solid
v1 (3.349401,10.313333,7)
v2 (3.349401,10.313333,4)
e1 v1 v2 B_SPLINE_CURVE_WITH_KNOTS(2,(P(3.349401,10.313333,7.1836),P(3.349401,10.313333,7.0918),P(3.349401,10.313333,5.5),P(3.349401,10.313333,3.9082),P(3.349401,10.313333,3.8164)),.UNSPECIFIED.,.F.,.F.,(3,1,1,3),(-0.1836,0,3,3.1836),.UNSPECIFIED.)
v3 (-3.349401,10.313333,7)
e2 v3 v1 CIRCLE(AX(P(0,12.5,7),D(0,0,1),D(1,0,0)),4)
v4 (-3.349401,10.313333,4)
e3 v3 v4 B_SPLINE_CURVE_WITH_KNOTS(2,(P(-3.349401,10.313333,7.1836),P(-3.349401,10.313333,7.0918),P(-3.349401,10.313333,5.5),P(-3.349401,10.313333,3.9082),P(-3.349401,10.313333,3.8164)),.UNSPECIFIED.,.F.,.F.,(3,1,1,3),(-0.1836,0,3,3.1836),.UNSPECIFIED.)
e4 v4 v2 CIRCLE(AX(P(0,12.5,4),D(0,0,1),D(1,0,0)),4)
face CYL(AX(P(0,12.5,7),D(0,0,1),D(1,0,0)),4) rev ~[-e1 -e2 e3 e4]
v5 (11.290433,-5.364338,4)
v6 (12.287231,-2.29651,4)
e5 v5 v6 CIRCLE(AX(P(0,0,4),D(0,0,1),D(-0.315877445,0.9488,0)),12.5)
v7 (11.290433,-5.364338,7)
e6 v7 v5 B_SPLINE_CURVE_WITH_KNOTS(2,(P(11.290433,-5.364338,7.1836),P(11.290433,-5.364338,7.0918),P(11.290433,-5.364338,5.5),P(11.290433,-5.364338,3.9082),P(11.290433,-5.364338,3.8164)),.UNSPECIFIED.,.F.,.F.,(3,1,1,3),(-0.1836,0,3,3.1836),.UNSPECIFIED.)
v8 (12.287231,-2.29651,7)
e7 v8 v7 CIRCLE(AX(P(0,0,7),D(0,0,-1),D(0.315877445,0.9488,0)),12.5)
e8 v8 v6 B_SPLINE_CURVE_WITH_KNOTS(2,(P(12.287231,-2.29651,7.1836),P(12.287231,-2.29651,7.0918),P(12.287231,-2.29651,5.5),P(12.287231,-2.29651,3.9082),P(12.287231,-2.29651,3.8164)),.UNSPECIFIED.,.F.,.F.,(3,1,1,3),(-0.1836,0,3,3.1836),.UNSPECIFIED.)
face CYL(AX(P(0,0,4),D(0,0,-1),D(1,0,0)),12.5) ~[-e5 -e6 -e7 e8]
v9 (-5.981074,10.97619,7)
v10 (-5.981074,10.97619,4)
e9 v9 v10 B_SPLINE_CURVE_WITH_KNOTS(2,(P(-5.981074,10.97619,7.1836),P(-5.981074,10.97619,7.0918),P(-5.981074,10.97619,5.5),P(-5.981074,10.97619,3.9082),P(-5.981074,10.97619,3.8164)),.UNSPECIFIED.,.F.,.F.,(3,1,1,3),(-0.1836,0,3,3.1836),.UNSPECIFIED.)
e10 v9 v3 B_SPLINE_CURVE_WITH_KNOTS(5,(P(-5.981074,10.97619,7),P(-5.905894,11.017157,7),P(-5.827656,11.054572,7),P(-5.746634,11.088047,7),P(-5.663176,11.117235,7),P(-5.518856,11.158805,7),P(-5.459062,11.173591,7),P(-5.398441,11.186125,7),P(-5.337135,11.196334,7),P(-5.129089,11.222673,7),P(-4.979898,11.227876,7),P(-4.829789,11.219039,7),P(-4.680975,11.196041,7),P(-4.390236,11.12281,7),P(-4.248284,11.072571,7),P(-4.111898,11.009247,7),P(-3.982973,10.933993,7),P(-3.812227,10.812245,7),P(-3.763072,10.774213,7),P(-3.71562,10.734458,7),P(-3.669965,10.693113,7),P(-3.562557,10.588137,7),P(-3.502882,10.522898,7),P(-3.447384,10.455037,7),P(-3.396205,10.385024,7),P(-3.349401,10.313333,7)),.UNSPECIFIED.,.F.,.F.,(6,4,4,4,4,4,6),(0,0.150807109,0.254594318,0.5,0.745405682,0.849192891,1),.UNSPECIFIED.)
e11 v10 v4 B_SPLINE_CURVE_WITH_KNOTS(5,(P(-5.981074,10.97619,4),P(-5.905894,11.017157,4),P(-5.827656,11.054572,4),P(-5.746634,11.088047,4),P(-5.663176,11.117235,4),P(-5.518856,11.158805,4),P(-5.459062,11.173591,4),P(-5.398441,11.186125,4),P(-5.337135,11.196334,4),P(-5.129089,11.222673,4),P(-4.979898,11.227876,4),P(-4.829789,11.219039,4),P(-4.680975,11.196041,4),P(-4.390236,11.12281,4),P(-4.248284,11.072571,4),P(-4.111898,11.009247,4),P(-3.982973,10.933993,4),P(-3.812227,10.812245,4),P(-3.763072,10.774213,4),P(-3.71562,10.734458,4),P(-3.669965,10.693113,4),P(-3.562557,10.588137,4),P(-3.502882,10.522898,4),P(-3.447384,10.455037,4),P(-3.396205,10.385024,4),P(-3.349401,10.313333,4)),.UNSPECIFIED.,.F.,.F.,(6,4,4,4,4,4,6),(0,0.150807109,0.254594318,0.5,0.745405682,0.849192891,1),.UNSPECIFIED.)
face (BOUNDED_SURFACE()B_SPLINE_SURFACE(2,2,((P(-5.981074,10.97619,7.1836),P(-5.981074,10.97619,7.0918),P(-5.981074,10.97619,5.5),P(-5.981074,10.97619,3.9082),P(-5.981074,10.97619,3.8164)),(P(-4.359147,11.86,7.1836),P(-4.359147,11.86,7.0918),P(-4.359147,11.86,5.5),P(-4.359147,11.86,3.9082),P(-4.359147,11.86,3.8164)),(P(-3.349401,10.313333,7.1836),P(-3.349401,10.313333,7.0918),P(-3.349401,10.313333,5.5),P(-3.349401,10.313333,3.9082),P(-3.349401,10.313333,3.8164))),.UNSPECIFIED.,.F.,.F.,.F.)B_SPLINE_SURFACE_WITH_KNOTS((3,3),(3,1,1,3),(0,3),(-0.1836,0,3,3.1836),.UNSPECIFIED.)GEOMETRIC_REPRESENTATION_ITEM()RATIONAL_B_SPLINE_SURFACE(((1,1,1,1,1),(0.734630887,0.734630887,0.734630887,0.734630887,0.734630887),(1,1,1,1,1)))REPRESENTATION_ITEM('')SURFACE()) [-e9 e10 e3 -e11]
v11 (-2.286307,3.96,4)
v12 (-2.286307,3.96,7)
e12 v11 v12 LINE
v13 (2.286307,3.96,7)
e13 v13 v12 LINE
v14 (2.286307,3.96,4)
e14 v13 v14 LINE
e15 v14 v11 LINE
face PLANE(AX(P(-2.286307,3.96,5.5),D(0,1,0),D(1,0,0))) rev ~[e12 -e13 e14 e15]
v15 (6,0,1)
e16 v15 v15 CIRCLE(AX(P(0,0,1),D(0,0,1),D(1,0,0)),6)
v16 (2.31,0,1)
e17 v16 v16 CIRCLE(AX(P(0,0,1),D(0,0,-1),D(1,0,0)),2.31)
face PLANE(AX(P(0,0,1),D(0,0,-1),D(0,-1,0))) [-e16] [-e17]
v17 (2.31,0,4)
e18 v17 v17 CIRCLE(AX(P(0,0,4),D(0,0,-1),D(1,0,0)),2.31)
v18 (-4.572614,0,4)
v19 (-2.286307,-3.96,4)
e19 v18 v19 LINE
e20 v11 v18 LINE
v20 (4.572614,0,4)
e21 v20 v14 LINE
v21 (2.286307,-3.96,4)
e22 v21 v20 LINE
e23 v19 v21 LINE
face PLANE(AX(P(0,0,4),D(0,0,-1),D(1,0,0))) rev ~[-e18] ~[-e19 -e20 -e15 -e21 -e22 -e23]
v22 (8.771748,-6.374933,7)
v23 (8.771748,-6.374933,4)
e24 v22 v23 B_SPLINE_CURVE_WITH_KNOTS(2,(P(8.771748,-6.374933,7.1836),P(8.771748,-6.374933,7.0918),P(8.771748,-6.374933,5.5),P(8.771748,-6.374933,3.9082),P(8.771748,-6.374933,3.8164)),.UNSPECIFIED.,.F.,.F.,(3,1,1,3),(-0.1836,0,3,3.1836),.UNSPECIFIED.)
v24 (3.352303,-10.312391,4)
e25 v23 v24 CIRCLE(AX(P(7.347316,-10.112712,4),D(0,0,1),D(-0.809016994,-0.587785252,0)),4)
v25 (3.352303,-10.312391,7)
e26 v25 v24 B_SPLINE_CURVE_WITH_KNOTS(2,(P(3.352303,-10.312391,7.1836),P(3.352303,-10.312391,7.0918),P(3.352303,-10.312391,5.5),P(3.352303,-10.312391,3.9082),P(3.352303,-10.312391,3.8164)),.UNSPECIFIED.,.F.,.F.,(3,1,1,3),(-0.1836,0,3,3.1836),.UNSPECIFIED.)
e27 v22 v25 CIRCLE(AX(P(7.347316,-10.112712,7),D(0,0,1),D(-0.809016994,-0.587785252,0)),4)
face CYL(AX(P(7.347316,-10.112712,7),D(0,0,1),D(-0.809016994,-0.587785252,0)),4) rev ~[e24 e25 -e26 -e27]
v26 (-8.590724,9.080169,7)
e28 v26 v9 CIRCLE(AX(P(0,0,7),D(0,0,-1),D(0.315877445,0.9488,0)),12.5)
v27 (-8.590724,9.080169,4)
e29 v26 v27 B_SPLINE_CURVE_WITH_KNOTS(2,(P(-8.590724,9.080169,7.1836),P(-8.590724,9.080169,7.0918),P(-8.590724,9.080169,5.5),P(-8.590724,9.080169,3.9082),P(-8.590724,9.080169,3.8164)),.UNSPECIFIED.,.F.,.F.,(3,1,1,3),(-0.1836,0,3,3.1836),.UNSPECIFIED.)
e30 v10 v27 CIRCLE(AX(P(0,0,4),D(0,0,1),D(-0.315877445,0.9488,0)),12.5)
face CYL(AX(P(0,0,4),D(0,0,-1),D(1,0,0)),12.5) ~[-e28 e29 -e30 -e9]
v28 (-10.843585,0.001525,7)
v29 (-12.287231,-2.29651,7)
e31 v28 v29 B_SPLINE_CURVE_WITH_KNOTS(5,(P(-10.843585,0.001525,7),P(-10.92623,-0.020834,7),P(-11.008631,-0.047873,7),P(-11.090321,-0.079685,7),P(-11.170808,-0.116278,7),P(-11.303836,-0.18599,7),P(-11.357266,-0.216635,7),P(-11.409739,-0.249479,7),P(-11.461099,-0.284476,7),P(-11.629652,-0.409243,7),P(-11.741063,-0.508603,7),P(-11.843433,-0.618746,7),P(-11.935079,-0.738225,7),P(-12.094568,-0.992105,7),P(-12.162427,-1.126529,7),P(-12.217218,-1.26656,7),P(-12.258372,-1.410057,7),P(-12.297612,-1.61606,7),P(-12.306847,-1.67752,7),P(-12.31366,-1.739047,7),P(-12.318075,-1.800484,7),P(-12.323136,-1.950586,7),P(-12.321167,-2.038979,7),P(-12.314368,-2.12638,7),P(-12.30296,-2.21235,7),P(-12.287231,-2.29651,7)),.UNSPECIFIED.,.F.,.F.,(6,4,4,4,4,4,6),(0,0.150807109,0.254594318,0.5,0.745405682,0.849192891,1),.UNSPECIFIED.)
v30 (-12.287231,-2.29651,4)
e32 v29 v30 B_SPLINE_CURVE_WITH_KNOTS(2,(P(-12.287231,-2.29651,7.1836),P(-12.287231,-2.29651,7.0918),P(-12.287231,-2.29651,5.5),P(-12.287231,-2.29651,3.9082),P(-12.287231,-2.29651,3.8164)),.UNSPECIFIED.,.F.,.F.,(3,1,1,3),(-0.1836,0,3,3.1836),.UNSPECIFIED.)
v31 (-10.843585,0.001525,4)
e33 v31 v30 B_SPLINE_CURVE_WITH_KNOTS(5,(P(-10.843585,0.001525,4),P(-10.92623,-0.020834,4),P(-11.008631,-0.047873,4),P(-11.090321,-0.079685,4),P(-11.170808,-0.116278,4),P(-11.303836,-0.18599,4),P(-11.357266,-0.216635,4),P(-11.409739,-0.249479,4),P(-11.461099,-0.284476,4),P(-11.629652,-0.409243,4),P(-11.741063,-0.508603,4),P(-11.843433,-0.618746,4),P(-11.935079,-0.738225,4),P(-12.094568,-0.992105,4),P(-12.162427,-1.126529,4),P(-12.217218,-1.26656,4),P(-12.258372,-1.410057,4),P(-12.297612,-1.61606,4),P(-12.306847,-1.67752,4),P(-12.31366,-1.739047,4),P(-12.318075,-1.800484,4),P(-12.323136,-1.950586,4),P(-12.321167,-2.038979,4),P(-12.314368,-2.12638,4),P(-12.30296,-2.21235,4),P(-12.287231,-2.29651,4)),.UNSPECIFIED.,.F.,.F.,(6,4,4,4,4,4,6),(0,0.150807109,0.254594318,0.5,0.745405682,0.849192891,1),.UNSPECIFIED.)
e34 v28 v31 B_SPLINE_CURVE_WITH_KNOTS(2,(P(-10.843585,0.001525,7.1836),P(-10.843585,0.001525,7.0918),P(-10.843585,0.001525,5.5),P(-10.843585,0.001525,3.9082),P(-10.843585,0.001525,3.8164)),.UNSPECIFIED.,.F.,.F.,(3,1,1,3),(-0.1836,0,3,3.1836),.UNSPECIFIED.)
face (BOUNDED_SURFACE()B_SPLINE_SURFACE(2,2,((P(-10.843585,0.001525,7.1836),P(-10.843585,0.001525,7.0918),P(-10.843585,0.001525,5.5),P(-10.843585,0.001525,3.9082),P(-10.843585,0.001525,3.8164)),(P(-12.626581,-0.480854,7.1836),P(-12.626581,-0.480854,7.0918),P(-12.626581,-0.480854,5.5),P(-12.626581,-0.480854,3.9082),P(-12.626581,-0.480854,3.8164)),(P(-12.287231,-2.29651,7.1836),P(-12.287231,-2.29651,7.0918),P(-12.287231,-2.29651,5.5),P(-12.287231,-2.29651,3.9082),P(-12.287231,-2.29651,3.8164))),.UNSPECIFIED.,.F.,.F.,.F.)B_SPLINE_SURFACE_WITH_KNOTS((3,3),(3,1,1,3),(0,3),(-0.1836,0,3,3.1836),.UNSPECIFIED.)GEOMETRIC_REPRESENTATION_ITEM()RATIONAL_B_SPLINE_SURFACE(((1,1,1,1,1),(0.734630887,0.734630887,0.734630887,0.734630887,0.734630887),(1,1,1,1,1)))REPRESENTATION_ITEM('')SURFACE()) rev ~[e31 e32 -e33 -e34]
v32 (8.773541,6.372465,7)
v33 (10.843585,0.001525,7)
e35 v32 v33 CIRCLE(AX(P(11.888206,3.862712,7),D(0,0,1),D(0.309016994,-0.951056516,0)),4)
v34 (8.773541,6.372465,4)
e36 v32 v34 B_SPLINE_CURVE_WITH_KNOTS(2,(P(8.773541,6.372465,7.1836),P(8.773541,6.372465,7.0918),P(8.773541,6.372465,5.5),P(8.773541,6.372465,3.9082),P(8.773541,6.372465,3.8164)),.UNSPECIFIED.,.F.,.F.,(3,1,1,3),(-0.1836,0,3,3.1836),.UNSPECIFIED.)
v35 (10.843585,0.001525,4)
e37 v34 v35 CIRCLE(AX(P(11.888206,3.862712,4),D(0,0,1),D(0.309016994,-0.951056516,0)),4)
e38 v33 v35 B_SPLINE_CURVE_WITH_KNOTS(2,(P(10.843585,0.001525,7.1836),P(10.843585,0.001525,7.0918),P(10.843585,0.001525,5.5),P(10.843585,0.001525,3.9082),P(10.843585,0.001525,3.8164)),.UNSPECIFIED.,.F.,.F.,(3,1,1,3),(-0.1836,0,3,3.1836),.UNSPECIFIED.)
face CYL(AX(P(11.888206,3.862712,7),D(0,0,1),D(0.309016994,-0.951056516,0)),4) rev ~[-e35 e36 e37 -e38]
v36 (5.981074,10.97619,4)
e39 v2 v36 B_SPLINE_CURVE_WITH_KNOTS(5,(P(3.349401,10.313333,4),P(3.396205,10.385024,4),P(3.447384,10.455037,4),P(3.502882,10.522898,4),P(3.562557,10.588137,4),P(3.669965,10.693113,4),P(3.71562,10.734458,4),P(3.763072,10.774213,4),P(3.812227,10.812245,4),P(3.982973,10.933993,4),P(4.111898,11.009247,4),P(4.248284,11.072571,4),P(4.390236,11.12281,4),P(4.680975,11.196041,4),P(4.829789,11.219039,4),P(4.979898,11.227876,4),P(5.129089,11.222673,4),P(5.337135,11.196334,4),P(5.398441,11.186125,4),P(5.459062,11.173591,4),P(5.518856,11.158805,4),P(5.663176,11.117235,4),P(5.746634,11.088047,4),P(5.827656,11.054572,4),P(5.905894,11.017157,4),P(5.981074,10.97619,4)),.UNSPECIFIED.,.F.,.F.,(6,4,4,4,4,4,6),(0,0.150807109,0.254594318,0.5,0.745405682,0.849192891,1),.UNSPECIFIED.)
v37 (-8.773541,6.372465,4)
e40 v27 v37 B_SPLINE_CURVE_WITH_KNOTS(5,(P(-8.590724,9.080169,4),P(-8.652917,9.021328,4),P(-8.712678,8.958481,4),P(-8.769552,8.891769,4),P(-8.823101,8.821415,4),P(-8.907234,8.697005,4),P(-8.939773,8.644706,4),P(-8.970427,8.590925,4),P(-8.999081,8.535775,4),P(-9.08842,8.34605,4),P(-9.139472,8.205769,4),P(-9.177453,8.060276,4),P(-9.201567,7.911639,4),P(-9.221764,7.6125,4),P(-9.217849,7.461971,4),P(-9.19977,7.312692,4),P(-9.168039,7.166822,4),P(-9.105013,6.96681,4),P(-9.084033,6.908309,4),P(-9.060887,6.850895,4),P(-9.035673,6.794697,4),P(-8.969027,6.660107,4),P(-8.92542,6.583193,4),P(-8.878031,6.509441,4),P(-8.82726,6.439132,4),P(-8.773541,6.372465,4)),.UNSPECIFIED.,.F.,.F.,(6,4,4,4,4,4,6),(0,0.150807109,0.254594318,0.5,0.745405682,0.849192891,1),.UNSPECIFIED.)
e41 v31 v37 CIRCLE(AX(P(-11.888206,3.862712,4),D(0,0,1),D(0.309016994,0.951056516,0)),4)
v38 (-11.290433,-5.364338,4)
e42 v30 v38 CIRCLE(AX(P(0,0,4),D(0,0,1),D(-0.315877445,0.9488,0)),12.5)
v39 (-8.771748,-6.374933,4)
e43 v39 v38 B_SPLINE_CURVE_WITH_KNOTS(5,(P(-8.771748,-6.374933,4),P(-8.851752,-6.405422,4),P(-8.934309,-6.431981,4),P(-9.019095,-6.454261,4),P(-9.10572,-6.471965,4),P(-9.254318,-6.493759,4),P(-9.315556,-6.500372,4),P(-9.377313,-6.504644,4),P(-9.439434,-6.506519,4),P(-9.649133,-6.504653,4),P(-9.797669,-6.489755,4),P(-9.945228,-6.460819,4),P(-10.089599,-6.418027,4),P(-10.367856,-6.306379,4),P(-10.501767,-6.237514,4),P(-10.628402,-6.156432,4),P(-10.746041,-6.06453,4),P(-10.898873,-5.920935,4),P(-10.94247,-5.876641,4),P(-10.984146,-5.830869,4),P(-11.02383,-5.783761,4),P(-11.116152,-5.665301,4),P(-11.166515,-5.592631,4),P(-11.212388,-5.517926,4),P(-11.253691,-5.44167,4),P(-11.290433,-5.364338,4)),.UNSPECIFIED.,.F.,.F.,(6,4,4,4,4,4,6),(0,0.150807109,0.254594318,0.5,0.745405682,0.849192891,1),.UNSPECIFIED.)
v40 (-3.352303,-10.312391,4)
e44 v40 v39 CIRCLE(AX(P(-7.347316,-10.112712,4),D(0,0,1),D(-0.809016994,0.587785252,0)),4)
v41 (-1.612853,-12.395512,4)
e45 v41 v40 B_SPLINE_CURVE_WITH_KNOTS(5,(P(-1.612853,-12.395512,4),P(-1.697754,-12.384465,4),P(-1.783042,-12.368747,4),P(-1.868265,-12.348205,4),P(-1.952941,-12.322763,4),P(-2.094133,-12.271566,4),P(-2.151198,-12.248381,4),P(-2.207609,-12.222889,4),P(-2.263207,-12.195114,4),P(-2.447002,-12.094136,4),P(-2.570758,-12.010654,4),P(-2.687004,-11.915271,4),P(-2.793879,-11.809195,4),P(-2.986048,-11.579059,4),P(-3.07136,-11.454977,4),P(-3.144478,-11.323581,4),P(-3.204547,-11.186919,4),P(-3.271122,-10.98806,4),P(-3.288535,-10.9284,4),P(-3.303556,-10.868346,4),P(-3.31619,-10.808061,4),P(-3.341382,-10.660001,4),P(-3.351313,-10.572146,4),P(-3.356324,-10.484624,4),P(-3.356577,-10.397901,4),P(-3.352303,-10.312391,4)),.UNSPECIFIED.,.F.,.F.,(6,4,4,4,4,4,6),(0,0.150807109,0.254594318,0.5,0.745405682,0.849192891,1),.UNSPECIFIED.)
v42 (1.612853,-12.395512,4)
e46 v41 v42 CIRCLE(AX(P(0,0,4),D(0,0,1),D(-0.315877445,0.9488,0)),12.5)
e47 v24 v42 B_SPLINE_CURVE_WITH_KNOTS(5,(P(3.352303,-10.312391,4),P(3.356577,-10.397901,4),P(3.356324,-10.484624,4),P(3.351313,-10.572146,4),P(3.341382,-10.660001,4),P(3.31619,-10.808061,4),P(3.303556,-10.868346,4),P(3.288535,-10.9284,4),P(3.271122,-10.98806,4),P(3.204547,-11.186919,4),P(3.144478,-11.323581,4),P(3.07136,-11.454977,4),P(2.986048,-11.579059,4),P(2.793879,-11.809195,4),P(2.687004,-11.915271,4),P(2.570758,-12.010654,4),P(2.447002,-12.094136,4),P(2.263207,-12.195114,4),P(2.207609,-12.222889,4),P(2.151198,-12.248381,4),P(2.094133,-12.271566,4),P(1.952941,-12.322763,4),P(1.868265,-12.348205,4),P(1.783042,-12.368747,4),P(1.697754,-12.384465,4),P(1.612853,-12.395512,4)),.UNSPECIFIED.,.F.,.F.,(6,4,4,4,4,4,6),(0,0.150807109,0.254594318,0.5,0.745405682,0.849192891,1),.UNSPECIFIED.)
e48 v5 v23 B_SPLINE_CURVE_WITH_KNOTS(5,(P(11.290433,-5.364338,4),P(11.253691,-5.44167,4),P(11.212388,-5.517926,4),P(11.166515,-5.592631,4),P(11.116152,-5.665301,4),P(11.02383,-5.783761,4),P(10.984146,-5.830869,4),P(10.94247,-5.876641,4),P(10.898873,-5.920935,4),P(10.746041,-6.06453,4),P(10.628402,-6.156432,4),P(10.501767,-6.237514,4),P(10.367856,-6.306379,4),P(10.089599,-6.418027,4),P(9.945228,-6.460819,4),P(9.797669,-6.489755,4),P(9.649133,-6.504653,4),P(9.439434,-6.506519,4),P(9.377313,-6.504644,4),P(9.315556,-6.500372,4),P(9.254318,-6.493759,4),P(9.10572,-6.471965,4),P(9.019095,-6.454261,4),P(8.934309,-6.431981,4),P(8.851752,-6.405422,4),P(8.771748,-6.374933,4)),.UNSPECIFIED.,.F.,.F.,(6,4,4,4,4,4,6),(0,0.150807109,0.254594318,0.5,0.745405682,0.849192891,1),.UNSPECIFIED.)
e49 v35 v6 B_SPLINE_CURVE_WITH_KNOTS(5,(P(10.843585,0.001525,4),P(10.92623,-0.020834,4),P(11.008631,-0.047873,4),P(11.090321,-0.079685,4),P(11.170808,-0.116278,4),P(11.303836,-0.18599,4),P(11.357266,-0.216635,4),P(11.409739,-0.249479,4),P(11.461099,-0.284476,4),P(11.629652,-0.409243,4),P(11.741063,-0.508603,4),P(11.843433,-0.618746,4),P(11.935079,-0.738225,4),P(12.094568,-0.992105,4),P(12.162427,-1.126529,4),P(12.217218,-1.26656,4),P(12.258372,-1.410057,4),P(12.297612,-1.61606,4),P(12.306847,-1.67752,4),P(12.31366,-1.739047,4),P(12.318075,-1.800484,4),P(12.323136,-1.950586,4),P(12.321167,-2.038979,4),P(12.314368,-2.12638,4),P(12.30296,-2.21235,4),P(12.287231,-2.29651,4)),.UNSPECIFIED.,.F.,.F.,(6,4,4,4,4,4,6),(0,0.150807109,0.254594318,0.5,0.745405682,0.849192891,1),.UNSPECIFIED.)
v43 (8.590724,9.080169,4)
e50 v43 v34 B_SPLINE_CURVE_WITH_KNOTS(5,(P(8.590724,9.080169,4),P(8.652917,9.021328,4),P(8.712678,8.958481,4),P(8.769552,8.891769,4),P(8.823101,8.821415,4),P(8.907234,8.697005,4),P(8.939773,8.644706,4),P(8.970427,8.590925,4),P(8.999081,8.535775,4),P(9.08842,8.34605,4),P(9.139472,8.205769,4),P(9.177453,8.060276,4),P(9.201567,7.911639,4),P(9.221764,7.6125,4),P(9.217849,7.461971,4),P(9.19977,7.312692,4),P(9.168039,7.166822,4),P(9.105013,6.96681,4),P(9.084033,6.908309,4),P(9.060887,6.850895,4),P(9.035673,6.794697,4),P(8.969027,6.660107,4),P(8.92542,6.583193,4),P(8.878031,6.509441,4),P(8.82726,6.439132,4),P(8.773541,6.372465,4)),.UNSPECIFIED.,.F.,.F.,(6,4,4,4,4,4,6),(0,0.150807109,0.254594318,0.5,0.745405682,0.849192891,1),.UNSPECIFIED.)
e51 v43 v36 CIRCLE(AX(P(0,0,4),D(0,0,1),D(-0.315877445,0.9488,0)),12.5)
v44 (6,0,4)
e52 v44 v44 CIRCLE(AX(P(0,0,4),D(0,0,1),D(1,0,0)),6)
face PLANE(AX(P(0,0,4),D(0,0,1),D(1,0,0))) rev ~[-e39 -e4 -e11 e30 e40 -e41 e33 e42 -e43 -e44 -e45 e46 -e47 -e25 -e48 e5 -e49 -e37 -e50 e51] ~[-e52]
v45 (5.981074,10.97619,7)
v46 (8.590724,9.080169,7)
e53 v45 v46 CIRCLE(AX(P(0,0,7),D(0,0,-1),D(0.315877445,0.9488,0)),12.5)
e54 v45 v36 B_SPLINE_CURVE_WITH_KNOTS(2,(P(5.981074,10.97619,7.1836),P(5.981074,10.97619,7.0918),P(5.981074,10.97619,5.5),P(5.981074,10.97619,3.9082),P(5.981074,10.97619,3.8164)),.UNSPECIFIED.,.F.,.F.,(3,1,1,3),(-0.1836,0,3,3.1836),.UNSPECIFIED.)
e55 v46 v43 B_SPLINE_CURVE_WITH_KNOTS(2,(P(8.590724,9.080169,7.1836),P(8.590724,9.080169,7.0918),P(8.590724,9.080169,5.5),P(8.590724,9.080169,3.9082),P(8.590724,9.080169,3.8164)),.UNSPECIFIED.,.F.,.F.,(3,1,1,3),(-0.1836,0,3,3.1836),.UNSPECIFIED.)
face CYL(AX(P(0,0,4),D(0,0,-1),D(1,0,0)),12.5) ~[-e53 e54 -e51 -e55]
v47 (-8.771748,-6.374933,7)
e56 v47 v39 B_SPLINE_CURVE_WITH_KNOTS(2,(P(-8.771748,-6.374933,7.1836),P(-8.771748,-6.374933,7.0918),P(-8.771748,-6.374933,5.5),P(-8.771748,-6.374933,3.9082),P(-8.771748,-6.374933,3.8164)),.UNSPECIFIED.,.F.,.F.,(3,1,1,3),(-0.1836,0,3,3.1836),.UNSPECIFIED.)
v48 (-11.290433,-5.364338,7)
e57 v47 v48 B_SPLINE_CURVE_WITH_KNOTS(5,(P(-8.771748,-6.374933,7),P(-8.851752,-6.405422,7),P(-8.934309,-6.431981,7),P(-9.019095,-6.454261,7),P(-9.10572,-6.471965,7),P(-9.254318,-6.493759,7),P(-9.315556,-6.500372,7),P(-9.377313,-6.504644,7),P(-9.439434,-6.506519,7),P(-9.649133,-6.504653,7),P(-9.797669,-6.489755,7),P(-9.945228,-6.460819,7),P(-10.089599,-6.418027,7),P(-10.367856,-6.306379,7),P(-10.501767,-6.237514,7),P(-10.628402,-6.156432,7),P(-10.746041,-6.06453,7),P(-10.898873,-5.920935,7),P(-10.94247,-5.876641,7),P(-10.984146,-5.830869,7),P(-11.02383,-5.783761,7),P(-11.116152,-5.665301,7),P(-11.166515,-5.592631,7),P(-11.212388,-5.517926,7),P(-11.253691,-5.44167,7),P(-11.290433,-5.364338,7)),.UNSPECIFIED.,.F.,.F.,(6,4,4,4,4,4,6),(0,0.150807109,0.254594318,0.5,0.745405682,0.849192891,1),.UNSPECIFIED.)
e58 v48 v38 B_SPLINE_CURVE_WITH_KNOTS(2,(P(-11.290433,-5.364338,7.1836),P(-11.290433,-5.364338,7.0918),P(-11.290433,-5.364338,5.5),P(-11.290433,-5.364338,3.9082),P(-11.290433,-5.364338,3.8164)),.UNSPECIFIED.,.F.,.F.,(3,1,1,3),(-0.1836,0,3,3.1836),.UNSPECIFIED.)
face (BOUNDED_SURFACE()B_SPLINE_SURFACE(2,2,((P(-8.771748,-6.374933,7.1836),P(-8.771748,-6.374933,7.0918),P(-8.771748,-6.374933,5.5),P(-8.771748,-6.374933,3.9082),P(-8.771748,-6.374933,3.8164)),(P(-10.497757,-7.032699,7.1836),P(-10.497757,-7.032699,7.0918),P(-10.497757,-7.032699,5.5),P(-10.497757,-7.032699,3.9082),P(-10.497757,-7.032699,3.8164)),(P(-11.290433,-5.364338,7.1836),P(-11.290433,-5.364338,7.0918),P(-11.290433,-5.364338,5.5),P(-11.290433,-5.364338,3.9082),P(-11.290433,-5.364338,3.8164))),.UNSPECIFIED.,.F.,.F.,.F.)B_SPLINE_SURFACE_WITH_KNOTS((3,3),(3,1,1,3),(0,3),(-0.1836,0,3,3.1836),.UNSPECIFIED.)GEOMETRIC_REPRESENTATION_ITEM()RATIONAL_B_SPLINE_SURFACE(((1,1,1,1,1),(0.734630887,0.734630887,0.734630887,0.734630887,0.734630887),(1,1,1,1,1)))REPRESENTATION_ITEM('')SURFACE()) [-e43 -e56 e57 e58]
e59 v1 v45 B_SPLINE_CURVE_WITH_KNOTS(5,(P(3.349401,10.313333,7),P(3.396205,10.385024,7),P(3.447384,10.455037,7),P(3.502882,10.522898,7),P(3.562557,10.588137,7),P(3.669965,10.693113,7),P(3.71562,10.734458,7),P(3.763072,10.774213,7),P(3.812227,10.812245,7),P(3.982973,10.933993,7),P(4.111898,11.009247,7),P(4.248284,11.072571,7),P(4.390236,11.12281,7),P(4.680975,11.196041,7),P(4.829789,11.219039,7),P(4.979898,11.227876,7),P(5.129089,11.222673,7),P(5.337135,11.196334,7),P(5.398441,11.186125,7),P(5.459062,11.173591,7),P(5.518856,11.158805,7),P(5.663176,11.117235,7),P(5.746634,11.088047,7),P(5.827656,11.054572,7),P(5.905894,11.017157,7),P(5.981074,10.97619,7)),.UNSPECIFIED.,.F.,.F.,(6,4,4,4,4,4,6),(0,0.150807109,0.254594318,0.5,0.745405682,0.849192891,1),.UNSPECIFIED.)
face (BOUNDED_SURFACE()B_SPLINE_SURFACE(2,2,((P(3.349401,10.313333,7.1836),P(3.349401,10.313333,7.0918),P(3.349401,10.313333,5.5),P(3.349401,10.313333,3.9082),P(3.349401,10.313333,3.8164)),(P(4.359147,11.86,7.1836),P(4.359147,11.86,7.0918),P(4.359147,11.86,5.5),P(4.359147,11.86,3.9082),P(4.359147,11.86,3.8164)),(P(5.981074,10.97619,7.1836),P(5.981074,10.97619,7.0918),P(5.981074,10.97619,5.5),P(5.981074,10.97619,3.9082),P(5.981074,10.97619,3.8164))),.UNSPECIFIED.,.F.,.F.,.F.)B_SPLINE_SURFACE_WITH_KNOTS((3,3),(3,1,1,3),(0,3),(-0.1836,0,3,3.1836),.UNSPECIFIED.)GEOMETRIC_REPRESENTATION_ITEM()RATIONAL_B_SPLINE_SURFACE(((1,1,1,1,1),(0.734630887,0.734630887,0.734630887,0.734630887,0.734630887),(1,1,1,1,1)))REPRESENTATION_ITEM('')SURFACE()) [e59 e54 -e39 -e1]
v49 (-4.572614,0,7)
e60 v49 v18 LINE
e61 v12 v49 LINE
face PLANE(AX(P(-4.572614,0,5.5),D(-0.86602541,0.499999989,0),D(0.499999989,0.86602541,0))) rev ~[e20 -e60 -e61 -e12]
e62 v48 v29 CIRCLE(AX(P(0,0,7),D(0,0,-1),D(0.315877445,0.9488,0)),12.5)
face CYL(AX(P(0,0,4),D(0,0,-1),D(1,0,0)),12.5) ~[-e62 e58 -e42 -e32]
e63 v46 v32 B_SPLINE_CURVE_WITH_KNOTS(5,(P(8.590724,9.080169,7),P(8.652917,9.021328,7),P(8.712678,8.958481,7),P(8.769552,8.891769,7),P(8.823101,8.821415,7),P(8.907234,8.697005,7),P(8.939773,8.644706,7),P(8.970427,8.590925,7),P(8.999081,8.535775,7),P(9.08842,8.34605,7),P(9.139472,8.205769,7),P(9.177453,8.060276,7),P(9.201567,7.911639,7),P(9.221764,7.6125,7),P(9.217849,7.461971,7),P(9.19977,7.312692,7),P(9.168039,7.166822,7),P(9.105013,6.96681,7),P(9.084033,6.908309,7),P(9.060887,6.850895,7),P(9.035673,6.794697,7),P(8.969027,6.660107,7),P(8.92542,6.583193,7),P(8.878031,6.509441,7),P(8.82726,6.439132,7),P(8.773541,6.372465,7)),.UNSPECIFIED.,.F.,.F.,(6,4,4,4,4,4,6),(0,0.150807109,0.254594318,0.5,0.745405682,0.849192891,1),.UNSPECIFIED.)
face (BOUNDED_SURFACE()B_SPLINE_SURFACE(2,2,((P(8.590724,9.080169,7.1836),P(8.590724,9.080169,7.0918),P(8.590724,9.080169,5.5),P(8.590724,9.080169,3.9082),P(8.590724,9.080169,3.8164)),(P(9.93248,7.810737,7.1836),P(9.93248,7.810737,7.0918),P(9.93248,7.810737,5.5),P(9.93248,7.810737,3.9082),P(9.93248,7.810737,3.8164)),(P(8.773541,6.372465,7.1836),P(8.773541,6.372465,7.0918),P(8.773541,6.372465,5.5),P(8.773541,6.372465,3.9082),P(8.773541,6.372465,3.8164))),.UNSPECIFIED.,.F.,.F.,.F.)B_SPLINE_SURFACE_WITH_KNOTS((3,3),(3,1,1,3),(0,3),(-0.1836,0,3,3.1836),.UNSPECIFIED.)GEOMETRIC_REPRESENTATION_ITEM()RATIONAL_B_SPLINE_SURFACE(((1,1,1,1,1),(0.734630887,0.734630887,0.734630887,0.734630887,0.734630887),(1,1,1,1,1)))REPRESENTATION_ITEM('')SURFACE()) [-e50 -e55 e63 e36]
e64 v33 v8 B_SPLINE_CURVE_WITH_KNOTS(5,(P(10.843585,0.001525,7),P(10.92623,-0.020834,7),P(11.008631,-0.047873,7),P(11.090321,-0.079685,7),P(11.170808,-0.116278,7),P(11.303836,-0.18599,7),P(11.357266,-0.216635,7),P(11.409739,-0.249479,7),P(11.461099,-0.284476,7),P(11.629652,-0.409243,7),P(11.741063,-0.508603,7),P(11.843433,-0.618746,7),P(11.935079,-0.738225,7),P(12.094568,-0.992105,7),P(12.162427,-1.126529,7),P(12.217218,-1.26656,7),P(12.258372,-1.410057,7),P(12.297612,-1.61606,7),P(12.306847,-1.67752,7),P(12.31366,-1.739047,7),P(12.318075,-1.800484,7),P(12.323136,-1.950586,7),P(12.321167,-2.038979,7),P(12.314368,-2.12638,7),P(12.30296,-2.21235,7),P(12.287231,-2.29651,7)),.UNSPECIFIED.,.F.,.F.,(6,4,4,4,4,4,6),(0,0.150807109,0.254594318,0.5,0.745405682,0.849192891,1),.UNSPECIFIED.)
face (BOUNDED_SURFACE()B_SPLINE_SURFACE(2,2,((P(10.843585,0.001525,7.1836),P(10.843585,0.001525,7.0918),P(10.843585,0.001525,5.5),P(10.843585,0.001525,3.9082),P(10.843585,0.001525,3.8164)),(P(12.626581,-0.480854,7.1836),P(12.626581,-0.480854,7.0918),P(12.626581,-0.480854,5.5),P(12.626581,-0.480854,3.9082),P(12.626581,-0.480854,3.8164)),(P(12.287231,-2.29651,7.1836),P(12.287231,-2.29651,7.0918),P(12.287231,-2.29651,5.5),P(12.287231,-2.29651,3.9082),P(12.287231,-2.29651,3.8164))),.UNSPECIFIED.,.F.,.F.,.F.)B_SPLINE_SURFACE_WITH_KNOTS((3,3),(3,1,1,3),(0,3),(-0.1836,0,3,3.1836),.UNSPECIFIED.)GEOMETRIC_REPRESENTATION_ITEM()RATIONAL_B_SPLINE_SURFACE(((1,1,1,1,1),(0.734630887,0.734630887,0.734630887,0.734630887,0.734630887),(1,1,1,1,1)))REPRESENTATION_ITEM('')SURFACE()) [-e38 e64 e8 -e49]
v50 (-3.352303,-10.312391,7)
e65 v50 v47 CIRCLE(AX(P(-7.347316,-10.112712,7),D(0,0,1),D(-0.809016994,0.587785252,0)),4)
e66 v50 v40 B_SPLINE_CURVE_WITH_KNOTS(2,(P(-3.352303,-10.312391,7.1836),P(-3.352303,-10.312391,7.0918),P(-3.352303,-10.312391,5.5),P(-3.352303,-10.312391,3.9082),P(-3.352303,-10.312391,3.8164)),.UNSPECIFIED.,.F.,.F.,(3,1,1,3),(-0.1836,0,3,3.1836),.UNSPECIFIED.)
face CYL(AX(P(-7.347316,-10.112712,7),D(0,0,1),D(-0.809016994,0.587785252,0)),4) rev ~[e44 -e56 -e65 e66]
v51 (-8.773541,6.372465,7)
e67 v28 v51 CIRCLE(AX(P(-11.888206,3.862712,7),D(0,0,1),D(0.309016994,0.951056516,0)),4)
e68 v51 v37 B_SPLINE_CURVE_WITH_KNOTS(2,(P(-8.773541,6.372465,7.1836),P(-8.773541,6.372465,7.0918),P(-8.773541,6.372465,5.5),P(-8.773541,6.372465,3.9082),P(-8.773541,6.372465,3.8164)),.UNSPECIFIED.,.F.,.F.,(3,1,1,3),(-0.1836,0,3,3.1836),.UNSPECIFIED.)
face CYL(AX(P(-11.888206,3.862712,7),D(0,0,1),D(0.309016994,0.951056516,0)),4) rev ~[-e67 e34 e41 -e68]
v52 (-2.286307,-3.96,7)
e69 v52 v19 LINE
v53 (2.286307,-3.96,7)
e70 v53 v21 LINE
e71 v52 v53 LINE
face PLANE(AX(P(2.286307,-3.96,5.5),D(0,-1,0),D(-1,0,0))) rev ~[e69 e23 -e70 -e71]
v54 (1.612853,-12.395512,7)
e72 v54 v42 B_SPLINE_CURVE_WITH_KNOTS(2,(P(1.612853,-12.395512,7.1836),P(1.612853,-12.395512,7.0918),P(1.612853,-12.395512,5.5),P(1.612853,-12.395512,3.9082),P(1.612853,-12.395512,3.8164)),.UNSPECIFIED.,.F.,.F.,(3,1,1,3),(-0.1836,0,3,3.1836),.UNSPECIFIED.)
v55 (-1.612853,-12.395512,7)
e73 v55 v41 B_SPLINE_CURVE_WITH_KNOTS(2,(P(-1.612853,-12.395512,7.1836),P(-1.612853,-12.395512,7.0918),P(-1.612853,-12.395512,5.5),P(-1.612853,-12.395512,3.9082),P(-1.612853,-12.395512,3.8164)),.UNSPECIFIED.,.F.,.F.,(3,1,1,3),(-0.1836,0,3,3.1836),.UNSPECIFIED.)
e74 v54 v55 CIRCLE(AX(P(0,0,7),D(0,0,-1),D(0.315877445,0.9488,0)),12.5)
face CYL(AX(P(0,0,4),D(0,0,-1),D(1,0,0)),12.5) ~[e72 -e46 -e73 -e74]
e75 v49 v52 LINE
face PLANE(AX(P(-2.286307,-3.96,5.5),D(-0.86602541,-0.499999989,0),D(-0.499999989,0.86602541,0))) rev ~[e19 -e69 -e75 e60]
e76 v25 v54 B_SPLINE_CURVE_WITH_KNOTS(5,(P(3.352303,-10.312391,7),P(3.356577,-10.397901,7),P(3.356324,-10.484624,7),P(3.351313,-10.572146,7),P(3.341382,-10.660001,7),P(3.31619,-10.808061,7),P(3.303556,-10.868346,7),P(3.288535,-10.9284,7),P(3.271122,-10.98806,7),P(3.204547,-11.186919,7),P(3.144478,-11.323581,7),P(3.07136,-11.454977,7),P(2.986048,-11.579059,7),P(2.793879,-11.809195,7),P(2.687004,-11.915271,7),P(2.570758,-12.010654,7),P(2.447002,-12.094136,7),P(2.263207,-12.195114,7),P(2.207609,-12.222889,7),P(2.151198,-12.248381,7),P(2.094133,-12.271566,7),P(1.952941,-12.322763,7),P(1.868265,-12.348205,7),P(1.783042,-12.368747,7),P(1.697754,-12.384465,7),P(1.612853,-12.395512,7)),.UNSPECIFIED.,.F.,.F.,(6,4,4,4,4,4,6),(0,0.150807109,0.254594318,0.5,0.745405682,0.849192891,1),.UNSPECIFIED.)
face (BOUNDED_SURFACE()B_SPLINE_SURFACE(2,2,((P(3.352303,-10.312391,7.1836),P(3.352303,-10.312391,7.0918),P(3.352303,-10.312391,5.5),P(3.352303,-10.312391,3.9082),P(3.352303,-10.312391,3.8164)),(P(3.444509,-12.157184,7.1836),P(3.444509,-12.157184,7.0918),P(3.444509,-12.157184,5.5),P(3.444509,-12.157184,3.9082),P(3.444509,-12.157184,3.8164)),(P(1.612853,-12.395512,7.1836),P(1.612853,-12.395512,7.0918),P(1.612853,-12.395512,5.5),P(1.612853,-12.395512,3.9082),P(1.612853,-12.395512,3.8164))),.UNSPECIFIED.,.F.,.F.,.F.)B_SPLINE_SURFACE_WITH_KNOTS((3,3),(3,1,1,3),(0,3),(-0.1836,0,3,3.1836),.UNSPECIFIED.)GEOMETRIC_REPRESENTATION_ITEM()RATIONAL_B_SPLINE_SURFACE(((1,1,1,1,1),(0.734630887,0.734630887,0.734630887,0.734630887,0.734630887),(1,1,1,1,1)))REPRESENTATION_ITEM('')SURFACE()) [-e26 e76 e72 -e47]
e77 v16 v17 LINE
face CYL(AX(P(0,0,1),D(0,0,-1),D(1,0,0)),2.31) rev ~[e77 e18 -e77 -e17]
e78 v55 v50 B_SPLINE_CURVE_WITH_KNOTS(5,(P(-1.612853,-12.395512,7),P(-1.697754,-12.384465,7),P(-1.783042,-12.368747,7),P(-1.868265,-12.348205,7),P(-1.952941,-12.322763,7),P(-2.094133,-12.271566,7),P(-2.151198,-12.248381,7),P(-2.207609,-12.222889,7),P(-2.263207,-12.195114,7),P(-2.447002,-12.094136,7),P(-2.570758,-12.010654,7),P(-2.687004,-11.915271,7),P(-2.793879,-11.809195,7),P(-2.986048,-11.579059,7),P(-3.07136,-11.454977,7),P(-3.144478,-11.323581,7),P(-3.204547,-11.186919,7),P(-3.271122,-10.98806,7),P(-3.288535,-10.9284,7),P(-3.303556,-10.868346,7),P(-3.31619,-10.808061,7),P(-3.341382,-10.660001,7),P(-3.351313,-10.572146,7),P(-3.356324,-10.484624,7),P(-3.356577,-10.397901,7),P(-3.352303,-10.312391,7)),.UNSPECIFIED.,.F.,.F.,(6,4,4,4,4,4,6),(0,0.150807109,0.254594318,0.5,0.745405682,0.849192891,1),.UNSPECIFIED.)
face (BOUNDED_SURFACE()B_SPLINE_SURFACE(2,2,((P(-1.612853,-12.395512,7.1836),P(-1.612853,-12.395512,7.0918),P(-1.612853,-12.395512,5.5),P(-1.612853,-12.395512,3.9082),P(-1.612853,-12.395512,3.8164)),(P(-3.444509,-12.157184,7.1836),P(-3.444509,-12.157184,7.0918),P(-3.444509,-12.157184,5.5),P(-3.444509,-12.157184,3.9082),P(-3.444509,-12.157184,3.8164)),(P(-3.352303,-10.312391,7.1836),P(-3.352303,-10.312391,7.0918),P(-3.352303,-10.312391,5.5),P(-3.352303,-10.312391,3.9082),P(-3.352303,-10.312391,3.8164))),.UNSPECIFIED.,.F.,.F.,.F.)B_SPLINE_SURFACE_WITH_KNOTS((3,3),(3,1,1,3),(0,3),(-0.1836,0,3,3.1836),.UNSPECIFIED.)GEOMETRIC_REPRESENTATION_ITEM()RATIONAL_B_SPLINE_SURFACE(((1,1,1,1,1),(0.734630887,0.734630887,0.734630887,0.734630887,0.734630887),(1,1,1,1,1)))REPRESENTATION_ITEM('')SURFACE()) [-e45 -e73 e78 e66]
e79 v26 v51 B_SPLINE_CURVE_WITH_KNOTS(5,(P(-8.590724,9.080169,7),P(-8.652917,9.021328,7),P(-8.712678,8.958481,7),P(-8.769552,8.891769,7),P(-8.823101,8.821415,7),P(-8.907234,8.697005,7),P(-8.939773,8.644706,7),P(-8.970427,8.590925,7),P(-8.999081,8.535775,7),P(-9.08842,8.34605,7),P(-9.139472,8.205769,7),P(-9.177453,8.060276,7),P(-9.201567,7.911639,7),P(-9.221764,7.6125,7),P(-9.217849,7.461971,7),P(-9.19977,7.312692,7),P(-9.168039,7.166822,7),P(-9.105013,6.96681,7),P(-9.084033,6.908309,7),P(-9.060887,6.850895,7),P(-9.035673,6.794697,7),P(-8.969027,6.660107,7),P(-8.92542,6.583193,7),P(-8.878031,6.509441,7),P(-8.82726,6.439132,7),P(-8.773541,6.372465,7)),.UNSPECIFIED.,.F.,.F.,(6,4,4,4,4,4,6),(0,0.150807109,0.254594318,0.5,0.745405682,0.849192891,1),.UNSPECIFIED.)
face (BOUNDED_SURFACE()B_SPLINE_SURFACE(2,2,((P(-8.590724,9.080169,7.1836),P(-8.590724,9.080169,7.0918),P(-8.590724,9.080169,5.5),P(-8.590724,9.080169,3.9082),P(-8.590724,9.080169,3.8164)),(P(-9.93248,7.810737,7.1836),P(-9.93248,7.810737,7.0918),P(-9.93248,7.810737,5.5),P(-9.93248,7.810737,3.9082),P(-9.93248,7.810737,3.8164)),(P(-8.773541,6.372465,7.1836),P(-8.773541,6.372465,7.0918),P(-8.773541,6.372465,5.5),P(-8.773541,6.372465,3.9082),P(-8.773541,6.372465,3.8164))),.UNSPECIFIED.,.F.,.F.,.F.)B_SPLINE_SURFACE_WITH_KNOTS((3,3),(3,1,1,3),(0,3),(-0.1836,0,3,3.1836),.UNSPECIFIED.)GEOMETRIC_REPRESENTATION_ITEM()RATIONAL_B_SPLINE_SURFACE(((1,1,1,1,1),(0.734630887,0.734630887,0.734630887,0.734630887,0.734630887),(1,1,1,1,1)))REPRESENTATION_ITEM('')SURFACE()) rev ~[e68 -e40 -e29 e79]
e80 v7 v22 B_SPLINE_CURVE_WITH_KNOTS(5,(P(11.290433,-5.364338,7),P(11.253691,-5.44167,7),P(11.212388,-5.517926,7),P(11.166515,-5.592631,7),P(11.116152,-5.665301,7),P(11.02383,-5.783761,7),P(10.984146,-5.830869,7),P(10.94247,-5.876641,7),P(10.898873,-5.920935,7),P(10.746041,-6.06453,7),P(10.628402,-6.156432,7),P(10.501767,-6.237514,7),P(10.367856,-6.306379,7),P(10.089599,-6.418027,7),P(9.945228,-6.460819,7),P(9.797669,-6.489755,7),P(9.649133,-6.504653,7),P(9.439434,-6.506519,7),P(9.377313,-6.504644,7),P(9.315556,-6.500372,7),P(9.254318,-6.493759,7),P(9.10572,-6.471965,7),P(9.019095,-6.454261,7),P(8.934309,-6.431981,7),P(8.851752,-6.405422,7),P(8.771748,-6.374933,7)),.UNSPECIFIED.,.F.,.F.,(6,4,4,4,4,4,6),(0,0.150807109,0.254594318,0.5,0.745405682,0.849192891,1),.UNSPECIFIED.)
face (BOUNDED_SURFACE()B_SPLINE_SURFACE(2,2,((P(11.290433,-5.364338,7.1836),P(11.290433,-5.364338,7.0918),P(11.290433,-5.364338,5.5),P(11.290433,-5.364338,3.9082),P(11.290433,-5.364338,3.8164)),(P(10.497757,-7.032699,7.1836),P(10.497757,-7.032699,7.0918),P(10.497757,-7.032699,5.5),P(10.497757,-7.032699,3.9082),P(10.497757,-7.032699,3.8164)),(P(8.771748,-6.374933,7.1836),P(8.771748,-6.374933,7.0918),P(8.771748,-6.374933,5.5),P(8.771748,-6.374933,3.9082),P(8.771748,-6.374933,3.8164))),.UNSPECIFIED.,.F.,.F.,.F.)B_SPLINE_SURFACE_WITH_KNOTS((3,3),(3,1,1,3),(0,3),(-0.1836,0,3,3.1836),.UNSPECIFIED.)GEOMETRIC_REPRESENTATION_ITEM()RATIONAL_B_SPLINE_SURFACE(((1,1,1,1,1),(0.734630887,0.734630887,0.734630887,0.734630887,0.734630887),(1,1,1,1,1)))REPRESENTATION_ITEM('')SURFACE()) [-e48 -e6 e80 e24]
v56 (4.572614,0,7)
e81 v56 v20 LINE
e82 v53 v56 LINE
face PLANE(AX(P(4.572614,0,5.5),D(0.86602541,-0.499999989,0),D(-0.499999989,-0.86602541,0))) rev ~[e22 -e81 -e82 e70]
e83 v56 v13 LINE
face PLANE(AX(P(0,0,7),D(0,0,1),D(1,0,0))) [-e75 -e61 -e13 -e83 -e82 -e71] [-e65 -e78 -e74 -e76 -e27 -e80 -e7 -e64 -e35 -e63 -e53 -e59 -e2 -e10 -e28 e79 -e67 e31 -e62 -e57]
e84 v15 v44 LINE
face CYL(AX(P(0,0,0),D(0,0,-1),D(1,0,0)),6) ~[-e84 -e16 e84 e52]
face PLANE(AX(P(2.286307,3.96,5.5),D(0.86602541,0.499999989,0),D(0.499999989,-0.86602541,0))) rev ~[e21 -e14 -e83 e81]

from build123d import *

# Parameters (mm, degrees)
SKETCH_R           = 6
PAD_DEPTH          = 4
SKETCH001_R        = 12.5
PAD001_DEPTH       = 3
SKETCH002_R        = 4
POCKET_DEPTH       = 3
POLARPATTERN_COUNT = 5
FILLET_R           = 2
SKETCH003_R        = 2.31
POCKET001_DEPTH    = 3
POCKET001_FACE25_R = 6
POCKET002_DEPTH    = 1
POCKET002_FACE26_R = 2.31
POCKET003_DEPTH    = 1.5
POCKET003_FACE26_R = 2.31
POCKET004_DEPTH    = 1.501
SKETCH005_R        = 6
SKETCH005_R_2      = 2.31
PAD002_DEPTH       = 3


with BuildPart() as part:
    # Sketch → Pad (new body)
    with BuildSketch(Plane.XY):
        Circle(SKETCH_R)
        Polygon((-2.286307, -3.96), (2.286307, -3.96), (4.572614, 0), (2.286307, 3.96), (-2.286307, 3.96), (-4.572614, 0), align=None, mode=Mode.SUBTRACT)
    extrude(amount=PAD_DEPTH)

    # Sketch001 (on Face9 of Pad) → Pad001 (join)
    with BuildSketch(Plane.XY.offset(4)):
        Circle(SKETCH001_R)
    extrude(amount=PAD001_DEPTH)

    # Sketch002 (on Face3 of Pad001) → Pocket (cut)
    with BuildSketch(Plane.XY.offset(7)):
        with Locations((0, 12.5)):
            Circle(SKETCH002_R)
    pocket = extrude(amount=-POCKET_DEPTH, mode=Mode.SUBTRACT)

    # PolarPattern: Pocket ×5 about axis
    polarpattern_axis = Axis((0, 0, 0), (0, 0, 1))
    for i in range(1, POLARPATTERN_COUNT):
        add(pocket.rotate(polarpattern_axis, i * 360 / POLARPATTERN_COUNT), mode=Mode.SUBTRACT)

    # Fillet
    fillet_edges = [part.edges().sort_by_distance(p)[0] for p in [
        (-12.499674, -0.090275, 5.5),
        (-10.059387, 7.420158, 5.5),
        (-3.948468, 11.86, 5.5),
        (3.948468, 11.86, 5.5),
        (-3.776755, -11.915793, 5.5),
        (-10.165511, -7.27409, 5.5),
        (10.165511, -7.27409, 5.5),
        (3.776755, -11.915793, 5.5),
        (10.059387, 7.420158, 5.5),
        (12.499674, -0.090275, 5.5),
    ]]
    fillet(fillet_edges, radius=FILLET_R)

    # Sketch003 (on Face31 of Fillet) → Pocket001 (cut)
    with BuildSketch(Plane(origin=(0, 0, 4), x_dir=(1, 0, 0), z_dir=(0, 0, -1))):
        Circle(SKETCH003_R)
    extrude(amount=-POCKET001_DEPTH, mode=Mode.SUBTRACT)

    # Pocket001 Face25 → Pocket002 (cut)
    with BuildSketch(Plane(origin=(0, 0, 0), x_dir=(0, -1, 0), z_dir=(0, 0, -1))):
        Circle(POCKET001_FACE25_R)
        Polygon((0, 4.572614), (3.96, 2.286307), (3.96, -2.286307), (0, -4.572614), (-3.96, -2.286307), (-3.96, 2.286307), align=None, mode=Mode.SUBTRACT)
    extrude(amount=-POCKET002_DEPTH, mode=Mode.SUBTRACT)

    # Pocket002 Face26 → Pocket003 (cut)
    with BuildSketch(Plane(origin=(0, 0, 4), x_dir=(0, -1, 0), z_dir=(0, 0, -1))):
        Polygon((0, 4.572614), (-3.96, 2.286307), (-3.96, -2.286307), (0, -4.572614), (3.96, -2.286307), (3.96, 2.286307), align=None)
        Circle(POCKET002_FACE26_R, mode=Mode.SUBTRACT)
    extrude(amount=-POCKET003_DEPTH, mode=Mode.SUBTRACT)

    # Pocket003 Face26 → Pocket004 (cut, through all)
    with BuildSketch(Plane(origin=(0, 0, 5.5), x_dir=(0, -1, 0), z_dir=(0, 0, -1))):
        Polygon((0, 4.572614), (-3.96, 2.286307), (-3.96, -2.286307), (0, -4.572614), (3.96, -2.286307), (3.96, 2.286307), align=None)
        Circle(POCKET003_FACE26_R, mode=Mode.SUBTRACT)
    extrude(amount=-POCKET004_DEPTH, mode=Mode.SUBTRACT)

    # Sketch005 (on Face30 of Pocket004) → Pad002 (join)
    with BuildSketch(Plane(origin=(0, 0, 1), x_dir=(1, 0, 0), z_dir=(0, 0, -1))):
        Circle(SKETCH005_R)
        Circle(SKETCH005_R_2, mode=Mode.SUBTRACT)
    extrude(amount=-PAD002_DEPTH)


solid = part.part
